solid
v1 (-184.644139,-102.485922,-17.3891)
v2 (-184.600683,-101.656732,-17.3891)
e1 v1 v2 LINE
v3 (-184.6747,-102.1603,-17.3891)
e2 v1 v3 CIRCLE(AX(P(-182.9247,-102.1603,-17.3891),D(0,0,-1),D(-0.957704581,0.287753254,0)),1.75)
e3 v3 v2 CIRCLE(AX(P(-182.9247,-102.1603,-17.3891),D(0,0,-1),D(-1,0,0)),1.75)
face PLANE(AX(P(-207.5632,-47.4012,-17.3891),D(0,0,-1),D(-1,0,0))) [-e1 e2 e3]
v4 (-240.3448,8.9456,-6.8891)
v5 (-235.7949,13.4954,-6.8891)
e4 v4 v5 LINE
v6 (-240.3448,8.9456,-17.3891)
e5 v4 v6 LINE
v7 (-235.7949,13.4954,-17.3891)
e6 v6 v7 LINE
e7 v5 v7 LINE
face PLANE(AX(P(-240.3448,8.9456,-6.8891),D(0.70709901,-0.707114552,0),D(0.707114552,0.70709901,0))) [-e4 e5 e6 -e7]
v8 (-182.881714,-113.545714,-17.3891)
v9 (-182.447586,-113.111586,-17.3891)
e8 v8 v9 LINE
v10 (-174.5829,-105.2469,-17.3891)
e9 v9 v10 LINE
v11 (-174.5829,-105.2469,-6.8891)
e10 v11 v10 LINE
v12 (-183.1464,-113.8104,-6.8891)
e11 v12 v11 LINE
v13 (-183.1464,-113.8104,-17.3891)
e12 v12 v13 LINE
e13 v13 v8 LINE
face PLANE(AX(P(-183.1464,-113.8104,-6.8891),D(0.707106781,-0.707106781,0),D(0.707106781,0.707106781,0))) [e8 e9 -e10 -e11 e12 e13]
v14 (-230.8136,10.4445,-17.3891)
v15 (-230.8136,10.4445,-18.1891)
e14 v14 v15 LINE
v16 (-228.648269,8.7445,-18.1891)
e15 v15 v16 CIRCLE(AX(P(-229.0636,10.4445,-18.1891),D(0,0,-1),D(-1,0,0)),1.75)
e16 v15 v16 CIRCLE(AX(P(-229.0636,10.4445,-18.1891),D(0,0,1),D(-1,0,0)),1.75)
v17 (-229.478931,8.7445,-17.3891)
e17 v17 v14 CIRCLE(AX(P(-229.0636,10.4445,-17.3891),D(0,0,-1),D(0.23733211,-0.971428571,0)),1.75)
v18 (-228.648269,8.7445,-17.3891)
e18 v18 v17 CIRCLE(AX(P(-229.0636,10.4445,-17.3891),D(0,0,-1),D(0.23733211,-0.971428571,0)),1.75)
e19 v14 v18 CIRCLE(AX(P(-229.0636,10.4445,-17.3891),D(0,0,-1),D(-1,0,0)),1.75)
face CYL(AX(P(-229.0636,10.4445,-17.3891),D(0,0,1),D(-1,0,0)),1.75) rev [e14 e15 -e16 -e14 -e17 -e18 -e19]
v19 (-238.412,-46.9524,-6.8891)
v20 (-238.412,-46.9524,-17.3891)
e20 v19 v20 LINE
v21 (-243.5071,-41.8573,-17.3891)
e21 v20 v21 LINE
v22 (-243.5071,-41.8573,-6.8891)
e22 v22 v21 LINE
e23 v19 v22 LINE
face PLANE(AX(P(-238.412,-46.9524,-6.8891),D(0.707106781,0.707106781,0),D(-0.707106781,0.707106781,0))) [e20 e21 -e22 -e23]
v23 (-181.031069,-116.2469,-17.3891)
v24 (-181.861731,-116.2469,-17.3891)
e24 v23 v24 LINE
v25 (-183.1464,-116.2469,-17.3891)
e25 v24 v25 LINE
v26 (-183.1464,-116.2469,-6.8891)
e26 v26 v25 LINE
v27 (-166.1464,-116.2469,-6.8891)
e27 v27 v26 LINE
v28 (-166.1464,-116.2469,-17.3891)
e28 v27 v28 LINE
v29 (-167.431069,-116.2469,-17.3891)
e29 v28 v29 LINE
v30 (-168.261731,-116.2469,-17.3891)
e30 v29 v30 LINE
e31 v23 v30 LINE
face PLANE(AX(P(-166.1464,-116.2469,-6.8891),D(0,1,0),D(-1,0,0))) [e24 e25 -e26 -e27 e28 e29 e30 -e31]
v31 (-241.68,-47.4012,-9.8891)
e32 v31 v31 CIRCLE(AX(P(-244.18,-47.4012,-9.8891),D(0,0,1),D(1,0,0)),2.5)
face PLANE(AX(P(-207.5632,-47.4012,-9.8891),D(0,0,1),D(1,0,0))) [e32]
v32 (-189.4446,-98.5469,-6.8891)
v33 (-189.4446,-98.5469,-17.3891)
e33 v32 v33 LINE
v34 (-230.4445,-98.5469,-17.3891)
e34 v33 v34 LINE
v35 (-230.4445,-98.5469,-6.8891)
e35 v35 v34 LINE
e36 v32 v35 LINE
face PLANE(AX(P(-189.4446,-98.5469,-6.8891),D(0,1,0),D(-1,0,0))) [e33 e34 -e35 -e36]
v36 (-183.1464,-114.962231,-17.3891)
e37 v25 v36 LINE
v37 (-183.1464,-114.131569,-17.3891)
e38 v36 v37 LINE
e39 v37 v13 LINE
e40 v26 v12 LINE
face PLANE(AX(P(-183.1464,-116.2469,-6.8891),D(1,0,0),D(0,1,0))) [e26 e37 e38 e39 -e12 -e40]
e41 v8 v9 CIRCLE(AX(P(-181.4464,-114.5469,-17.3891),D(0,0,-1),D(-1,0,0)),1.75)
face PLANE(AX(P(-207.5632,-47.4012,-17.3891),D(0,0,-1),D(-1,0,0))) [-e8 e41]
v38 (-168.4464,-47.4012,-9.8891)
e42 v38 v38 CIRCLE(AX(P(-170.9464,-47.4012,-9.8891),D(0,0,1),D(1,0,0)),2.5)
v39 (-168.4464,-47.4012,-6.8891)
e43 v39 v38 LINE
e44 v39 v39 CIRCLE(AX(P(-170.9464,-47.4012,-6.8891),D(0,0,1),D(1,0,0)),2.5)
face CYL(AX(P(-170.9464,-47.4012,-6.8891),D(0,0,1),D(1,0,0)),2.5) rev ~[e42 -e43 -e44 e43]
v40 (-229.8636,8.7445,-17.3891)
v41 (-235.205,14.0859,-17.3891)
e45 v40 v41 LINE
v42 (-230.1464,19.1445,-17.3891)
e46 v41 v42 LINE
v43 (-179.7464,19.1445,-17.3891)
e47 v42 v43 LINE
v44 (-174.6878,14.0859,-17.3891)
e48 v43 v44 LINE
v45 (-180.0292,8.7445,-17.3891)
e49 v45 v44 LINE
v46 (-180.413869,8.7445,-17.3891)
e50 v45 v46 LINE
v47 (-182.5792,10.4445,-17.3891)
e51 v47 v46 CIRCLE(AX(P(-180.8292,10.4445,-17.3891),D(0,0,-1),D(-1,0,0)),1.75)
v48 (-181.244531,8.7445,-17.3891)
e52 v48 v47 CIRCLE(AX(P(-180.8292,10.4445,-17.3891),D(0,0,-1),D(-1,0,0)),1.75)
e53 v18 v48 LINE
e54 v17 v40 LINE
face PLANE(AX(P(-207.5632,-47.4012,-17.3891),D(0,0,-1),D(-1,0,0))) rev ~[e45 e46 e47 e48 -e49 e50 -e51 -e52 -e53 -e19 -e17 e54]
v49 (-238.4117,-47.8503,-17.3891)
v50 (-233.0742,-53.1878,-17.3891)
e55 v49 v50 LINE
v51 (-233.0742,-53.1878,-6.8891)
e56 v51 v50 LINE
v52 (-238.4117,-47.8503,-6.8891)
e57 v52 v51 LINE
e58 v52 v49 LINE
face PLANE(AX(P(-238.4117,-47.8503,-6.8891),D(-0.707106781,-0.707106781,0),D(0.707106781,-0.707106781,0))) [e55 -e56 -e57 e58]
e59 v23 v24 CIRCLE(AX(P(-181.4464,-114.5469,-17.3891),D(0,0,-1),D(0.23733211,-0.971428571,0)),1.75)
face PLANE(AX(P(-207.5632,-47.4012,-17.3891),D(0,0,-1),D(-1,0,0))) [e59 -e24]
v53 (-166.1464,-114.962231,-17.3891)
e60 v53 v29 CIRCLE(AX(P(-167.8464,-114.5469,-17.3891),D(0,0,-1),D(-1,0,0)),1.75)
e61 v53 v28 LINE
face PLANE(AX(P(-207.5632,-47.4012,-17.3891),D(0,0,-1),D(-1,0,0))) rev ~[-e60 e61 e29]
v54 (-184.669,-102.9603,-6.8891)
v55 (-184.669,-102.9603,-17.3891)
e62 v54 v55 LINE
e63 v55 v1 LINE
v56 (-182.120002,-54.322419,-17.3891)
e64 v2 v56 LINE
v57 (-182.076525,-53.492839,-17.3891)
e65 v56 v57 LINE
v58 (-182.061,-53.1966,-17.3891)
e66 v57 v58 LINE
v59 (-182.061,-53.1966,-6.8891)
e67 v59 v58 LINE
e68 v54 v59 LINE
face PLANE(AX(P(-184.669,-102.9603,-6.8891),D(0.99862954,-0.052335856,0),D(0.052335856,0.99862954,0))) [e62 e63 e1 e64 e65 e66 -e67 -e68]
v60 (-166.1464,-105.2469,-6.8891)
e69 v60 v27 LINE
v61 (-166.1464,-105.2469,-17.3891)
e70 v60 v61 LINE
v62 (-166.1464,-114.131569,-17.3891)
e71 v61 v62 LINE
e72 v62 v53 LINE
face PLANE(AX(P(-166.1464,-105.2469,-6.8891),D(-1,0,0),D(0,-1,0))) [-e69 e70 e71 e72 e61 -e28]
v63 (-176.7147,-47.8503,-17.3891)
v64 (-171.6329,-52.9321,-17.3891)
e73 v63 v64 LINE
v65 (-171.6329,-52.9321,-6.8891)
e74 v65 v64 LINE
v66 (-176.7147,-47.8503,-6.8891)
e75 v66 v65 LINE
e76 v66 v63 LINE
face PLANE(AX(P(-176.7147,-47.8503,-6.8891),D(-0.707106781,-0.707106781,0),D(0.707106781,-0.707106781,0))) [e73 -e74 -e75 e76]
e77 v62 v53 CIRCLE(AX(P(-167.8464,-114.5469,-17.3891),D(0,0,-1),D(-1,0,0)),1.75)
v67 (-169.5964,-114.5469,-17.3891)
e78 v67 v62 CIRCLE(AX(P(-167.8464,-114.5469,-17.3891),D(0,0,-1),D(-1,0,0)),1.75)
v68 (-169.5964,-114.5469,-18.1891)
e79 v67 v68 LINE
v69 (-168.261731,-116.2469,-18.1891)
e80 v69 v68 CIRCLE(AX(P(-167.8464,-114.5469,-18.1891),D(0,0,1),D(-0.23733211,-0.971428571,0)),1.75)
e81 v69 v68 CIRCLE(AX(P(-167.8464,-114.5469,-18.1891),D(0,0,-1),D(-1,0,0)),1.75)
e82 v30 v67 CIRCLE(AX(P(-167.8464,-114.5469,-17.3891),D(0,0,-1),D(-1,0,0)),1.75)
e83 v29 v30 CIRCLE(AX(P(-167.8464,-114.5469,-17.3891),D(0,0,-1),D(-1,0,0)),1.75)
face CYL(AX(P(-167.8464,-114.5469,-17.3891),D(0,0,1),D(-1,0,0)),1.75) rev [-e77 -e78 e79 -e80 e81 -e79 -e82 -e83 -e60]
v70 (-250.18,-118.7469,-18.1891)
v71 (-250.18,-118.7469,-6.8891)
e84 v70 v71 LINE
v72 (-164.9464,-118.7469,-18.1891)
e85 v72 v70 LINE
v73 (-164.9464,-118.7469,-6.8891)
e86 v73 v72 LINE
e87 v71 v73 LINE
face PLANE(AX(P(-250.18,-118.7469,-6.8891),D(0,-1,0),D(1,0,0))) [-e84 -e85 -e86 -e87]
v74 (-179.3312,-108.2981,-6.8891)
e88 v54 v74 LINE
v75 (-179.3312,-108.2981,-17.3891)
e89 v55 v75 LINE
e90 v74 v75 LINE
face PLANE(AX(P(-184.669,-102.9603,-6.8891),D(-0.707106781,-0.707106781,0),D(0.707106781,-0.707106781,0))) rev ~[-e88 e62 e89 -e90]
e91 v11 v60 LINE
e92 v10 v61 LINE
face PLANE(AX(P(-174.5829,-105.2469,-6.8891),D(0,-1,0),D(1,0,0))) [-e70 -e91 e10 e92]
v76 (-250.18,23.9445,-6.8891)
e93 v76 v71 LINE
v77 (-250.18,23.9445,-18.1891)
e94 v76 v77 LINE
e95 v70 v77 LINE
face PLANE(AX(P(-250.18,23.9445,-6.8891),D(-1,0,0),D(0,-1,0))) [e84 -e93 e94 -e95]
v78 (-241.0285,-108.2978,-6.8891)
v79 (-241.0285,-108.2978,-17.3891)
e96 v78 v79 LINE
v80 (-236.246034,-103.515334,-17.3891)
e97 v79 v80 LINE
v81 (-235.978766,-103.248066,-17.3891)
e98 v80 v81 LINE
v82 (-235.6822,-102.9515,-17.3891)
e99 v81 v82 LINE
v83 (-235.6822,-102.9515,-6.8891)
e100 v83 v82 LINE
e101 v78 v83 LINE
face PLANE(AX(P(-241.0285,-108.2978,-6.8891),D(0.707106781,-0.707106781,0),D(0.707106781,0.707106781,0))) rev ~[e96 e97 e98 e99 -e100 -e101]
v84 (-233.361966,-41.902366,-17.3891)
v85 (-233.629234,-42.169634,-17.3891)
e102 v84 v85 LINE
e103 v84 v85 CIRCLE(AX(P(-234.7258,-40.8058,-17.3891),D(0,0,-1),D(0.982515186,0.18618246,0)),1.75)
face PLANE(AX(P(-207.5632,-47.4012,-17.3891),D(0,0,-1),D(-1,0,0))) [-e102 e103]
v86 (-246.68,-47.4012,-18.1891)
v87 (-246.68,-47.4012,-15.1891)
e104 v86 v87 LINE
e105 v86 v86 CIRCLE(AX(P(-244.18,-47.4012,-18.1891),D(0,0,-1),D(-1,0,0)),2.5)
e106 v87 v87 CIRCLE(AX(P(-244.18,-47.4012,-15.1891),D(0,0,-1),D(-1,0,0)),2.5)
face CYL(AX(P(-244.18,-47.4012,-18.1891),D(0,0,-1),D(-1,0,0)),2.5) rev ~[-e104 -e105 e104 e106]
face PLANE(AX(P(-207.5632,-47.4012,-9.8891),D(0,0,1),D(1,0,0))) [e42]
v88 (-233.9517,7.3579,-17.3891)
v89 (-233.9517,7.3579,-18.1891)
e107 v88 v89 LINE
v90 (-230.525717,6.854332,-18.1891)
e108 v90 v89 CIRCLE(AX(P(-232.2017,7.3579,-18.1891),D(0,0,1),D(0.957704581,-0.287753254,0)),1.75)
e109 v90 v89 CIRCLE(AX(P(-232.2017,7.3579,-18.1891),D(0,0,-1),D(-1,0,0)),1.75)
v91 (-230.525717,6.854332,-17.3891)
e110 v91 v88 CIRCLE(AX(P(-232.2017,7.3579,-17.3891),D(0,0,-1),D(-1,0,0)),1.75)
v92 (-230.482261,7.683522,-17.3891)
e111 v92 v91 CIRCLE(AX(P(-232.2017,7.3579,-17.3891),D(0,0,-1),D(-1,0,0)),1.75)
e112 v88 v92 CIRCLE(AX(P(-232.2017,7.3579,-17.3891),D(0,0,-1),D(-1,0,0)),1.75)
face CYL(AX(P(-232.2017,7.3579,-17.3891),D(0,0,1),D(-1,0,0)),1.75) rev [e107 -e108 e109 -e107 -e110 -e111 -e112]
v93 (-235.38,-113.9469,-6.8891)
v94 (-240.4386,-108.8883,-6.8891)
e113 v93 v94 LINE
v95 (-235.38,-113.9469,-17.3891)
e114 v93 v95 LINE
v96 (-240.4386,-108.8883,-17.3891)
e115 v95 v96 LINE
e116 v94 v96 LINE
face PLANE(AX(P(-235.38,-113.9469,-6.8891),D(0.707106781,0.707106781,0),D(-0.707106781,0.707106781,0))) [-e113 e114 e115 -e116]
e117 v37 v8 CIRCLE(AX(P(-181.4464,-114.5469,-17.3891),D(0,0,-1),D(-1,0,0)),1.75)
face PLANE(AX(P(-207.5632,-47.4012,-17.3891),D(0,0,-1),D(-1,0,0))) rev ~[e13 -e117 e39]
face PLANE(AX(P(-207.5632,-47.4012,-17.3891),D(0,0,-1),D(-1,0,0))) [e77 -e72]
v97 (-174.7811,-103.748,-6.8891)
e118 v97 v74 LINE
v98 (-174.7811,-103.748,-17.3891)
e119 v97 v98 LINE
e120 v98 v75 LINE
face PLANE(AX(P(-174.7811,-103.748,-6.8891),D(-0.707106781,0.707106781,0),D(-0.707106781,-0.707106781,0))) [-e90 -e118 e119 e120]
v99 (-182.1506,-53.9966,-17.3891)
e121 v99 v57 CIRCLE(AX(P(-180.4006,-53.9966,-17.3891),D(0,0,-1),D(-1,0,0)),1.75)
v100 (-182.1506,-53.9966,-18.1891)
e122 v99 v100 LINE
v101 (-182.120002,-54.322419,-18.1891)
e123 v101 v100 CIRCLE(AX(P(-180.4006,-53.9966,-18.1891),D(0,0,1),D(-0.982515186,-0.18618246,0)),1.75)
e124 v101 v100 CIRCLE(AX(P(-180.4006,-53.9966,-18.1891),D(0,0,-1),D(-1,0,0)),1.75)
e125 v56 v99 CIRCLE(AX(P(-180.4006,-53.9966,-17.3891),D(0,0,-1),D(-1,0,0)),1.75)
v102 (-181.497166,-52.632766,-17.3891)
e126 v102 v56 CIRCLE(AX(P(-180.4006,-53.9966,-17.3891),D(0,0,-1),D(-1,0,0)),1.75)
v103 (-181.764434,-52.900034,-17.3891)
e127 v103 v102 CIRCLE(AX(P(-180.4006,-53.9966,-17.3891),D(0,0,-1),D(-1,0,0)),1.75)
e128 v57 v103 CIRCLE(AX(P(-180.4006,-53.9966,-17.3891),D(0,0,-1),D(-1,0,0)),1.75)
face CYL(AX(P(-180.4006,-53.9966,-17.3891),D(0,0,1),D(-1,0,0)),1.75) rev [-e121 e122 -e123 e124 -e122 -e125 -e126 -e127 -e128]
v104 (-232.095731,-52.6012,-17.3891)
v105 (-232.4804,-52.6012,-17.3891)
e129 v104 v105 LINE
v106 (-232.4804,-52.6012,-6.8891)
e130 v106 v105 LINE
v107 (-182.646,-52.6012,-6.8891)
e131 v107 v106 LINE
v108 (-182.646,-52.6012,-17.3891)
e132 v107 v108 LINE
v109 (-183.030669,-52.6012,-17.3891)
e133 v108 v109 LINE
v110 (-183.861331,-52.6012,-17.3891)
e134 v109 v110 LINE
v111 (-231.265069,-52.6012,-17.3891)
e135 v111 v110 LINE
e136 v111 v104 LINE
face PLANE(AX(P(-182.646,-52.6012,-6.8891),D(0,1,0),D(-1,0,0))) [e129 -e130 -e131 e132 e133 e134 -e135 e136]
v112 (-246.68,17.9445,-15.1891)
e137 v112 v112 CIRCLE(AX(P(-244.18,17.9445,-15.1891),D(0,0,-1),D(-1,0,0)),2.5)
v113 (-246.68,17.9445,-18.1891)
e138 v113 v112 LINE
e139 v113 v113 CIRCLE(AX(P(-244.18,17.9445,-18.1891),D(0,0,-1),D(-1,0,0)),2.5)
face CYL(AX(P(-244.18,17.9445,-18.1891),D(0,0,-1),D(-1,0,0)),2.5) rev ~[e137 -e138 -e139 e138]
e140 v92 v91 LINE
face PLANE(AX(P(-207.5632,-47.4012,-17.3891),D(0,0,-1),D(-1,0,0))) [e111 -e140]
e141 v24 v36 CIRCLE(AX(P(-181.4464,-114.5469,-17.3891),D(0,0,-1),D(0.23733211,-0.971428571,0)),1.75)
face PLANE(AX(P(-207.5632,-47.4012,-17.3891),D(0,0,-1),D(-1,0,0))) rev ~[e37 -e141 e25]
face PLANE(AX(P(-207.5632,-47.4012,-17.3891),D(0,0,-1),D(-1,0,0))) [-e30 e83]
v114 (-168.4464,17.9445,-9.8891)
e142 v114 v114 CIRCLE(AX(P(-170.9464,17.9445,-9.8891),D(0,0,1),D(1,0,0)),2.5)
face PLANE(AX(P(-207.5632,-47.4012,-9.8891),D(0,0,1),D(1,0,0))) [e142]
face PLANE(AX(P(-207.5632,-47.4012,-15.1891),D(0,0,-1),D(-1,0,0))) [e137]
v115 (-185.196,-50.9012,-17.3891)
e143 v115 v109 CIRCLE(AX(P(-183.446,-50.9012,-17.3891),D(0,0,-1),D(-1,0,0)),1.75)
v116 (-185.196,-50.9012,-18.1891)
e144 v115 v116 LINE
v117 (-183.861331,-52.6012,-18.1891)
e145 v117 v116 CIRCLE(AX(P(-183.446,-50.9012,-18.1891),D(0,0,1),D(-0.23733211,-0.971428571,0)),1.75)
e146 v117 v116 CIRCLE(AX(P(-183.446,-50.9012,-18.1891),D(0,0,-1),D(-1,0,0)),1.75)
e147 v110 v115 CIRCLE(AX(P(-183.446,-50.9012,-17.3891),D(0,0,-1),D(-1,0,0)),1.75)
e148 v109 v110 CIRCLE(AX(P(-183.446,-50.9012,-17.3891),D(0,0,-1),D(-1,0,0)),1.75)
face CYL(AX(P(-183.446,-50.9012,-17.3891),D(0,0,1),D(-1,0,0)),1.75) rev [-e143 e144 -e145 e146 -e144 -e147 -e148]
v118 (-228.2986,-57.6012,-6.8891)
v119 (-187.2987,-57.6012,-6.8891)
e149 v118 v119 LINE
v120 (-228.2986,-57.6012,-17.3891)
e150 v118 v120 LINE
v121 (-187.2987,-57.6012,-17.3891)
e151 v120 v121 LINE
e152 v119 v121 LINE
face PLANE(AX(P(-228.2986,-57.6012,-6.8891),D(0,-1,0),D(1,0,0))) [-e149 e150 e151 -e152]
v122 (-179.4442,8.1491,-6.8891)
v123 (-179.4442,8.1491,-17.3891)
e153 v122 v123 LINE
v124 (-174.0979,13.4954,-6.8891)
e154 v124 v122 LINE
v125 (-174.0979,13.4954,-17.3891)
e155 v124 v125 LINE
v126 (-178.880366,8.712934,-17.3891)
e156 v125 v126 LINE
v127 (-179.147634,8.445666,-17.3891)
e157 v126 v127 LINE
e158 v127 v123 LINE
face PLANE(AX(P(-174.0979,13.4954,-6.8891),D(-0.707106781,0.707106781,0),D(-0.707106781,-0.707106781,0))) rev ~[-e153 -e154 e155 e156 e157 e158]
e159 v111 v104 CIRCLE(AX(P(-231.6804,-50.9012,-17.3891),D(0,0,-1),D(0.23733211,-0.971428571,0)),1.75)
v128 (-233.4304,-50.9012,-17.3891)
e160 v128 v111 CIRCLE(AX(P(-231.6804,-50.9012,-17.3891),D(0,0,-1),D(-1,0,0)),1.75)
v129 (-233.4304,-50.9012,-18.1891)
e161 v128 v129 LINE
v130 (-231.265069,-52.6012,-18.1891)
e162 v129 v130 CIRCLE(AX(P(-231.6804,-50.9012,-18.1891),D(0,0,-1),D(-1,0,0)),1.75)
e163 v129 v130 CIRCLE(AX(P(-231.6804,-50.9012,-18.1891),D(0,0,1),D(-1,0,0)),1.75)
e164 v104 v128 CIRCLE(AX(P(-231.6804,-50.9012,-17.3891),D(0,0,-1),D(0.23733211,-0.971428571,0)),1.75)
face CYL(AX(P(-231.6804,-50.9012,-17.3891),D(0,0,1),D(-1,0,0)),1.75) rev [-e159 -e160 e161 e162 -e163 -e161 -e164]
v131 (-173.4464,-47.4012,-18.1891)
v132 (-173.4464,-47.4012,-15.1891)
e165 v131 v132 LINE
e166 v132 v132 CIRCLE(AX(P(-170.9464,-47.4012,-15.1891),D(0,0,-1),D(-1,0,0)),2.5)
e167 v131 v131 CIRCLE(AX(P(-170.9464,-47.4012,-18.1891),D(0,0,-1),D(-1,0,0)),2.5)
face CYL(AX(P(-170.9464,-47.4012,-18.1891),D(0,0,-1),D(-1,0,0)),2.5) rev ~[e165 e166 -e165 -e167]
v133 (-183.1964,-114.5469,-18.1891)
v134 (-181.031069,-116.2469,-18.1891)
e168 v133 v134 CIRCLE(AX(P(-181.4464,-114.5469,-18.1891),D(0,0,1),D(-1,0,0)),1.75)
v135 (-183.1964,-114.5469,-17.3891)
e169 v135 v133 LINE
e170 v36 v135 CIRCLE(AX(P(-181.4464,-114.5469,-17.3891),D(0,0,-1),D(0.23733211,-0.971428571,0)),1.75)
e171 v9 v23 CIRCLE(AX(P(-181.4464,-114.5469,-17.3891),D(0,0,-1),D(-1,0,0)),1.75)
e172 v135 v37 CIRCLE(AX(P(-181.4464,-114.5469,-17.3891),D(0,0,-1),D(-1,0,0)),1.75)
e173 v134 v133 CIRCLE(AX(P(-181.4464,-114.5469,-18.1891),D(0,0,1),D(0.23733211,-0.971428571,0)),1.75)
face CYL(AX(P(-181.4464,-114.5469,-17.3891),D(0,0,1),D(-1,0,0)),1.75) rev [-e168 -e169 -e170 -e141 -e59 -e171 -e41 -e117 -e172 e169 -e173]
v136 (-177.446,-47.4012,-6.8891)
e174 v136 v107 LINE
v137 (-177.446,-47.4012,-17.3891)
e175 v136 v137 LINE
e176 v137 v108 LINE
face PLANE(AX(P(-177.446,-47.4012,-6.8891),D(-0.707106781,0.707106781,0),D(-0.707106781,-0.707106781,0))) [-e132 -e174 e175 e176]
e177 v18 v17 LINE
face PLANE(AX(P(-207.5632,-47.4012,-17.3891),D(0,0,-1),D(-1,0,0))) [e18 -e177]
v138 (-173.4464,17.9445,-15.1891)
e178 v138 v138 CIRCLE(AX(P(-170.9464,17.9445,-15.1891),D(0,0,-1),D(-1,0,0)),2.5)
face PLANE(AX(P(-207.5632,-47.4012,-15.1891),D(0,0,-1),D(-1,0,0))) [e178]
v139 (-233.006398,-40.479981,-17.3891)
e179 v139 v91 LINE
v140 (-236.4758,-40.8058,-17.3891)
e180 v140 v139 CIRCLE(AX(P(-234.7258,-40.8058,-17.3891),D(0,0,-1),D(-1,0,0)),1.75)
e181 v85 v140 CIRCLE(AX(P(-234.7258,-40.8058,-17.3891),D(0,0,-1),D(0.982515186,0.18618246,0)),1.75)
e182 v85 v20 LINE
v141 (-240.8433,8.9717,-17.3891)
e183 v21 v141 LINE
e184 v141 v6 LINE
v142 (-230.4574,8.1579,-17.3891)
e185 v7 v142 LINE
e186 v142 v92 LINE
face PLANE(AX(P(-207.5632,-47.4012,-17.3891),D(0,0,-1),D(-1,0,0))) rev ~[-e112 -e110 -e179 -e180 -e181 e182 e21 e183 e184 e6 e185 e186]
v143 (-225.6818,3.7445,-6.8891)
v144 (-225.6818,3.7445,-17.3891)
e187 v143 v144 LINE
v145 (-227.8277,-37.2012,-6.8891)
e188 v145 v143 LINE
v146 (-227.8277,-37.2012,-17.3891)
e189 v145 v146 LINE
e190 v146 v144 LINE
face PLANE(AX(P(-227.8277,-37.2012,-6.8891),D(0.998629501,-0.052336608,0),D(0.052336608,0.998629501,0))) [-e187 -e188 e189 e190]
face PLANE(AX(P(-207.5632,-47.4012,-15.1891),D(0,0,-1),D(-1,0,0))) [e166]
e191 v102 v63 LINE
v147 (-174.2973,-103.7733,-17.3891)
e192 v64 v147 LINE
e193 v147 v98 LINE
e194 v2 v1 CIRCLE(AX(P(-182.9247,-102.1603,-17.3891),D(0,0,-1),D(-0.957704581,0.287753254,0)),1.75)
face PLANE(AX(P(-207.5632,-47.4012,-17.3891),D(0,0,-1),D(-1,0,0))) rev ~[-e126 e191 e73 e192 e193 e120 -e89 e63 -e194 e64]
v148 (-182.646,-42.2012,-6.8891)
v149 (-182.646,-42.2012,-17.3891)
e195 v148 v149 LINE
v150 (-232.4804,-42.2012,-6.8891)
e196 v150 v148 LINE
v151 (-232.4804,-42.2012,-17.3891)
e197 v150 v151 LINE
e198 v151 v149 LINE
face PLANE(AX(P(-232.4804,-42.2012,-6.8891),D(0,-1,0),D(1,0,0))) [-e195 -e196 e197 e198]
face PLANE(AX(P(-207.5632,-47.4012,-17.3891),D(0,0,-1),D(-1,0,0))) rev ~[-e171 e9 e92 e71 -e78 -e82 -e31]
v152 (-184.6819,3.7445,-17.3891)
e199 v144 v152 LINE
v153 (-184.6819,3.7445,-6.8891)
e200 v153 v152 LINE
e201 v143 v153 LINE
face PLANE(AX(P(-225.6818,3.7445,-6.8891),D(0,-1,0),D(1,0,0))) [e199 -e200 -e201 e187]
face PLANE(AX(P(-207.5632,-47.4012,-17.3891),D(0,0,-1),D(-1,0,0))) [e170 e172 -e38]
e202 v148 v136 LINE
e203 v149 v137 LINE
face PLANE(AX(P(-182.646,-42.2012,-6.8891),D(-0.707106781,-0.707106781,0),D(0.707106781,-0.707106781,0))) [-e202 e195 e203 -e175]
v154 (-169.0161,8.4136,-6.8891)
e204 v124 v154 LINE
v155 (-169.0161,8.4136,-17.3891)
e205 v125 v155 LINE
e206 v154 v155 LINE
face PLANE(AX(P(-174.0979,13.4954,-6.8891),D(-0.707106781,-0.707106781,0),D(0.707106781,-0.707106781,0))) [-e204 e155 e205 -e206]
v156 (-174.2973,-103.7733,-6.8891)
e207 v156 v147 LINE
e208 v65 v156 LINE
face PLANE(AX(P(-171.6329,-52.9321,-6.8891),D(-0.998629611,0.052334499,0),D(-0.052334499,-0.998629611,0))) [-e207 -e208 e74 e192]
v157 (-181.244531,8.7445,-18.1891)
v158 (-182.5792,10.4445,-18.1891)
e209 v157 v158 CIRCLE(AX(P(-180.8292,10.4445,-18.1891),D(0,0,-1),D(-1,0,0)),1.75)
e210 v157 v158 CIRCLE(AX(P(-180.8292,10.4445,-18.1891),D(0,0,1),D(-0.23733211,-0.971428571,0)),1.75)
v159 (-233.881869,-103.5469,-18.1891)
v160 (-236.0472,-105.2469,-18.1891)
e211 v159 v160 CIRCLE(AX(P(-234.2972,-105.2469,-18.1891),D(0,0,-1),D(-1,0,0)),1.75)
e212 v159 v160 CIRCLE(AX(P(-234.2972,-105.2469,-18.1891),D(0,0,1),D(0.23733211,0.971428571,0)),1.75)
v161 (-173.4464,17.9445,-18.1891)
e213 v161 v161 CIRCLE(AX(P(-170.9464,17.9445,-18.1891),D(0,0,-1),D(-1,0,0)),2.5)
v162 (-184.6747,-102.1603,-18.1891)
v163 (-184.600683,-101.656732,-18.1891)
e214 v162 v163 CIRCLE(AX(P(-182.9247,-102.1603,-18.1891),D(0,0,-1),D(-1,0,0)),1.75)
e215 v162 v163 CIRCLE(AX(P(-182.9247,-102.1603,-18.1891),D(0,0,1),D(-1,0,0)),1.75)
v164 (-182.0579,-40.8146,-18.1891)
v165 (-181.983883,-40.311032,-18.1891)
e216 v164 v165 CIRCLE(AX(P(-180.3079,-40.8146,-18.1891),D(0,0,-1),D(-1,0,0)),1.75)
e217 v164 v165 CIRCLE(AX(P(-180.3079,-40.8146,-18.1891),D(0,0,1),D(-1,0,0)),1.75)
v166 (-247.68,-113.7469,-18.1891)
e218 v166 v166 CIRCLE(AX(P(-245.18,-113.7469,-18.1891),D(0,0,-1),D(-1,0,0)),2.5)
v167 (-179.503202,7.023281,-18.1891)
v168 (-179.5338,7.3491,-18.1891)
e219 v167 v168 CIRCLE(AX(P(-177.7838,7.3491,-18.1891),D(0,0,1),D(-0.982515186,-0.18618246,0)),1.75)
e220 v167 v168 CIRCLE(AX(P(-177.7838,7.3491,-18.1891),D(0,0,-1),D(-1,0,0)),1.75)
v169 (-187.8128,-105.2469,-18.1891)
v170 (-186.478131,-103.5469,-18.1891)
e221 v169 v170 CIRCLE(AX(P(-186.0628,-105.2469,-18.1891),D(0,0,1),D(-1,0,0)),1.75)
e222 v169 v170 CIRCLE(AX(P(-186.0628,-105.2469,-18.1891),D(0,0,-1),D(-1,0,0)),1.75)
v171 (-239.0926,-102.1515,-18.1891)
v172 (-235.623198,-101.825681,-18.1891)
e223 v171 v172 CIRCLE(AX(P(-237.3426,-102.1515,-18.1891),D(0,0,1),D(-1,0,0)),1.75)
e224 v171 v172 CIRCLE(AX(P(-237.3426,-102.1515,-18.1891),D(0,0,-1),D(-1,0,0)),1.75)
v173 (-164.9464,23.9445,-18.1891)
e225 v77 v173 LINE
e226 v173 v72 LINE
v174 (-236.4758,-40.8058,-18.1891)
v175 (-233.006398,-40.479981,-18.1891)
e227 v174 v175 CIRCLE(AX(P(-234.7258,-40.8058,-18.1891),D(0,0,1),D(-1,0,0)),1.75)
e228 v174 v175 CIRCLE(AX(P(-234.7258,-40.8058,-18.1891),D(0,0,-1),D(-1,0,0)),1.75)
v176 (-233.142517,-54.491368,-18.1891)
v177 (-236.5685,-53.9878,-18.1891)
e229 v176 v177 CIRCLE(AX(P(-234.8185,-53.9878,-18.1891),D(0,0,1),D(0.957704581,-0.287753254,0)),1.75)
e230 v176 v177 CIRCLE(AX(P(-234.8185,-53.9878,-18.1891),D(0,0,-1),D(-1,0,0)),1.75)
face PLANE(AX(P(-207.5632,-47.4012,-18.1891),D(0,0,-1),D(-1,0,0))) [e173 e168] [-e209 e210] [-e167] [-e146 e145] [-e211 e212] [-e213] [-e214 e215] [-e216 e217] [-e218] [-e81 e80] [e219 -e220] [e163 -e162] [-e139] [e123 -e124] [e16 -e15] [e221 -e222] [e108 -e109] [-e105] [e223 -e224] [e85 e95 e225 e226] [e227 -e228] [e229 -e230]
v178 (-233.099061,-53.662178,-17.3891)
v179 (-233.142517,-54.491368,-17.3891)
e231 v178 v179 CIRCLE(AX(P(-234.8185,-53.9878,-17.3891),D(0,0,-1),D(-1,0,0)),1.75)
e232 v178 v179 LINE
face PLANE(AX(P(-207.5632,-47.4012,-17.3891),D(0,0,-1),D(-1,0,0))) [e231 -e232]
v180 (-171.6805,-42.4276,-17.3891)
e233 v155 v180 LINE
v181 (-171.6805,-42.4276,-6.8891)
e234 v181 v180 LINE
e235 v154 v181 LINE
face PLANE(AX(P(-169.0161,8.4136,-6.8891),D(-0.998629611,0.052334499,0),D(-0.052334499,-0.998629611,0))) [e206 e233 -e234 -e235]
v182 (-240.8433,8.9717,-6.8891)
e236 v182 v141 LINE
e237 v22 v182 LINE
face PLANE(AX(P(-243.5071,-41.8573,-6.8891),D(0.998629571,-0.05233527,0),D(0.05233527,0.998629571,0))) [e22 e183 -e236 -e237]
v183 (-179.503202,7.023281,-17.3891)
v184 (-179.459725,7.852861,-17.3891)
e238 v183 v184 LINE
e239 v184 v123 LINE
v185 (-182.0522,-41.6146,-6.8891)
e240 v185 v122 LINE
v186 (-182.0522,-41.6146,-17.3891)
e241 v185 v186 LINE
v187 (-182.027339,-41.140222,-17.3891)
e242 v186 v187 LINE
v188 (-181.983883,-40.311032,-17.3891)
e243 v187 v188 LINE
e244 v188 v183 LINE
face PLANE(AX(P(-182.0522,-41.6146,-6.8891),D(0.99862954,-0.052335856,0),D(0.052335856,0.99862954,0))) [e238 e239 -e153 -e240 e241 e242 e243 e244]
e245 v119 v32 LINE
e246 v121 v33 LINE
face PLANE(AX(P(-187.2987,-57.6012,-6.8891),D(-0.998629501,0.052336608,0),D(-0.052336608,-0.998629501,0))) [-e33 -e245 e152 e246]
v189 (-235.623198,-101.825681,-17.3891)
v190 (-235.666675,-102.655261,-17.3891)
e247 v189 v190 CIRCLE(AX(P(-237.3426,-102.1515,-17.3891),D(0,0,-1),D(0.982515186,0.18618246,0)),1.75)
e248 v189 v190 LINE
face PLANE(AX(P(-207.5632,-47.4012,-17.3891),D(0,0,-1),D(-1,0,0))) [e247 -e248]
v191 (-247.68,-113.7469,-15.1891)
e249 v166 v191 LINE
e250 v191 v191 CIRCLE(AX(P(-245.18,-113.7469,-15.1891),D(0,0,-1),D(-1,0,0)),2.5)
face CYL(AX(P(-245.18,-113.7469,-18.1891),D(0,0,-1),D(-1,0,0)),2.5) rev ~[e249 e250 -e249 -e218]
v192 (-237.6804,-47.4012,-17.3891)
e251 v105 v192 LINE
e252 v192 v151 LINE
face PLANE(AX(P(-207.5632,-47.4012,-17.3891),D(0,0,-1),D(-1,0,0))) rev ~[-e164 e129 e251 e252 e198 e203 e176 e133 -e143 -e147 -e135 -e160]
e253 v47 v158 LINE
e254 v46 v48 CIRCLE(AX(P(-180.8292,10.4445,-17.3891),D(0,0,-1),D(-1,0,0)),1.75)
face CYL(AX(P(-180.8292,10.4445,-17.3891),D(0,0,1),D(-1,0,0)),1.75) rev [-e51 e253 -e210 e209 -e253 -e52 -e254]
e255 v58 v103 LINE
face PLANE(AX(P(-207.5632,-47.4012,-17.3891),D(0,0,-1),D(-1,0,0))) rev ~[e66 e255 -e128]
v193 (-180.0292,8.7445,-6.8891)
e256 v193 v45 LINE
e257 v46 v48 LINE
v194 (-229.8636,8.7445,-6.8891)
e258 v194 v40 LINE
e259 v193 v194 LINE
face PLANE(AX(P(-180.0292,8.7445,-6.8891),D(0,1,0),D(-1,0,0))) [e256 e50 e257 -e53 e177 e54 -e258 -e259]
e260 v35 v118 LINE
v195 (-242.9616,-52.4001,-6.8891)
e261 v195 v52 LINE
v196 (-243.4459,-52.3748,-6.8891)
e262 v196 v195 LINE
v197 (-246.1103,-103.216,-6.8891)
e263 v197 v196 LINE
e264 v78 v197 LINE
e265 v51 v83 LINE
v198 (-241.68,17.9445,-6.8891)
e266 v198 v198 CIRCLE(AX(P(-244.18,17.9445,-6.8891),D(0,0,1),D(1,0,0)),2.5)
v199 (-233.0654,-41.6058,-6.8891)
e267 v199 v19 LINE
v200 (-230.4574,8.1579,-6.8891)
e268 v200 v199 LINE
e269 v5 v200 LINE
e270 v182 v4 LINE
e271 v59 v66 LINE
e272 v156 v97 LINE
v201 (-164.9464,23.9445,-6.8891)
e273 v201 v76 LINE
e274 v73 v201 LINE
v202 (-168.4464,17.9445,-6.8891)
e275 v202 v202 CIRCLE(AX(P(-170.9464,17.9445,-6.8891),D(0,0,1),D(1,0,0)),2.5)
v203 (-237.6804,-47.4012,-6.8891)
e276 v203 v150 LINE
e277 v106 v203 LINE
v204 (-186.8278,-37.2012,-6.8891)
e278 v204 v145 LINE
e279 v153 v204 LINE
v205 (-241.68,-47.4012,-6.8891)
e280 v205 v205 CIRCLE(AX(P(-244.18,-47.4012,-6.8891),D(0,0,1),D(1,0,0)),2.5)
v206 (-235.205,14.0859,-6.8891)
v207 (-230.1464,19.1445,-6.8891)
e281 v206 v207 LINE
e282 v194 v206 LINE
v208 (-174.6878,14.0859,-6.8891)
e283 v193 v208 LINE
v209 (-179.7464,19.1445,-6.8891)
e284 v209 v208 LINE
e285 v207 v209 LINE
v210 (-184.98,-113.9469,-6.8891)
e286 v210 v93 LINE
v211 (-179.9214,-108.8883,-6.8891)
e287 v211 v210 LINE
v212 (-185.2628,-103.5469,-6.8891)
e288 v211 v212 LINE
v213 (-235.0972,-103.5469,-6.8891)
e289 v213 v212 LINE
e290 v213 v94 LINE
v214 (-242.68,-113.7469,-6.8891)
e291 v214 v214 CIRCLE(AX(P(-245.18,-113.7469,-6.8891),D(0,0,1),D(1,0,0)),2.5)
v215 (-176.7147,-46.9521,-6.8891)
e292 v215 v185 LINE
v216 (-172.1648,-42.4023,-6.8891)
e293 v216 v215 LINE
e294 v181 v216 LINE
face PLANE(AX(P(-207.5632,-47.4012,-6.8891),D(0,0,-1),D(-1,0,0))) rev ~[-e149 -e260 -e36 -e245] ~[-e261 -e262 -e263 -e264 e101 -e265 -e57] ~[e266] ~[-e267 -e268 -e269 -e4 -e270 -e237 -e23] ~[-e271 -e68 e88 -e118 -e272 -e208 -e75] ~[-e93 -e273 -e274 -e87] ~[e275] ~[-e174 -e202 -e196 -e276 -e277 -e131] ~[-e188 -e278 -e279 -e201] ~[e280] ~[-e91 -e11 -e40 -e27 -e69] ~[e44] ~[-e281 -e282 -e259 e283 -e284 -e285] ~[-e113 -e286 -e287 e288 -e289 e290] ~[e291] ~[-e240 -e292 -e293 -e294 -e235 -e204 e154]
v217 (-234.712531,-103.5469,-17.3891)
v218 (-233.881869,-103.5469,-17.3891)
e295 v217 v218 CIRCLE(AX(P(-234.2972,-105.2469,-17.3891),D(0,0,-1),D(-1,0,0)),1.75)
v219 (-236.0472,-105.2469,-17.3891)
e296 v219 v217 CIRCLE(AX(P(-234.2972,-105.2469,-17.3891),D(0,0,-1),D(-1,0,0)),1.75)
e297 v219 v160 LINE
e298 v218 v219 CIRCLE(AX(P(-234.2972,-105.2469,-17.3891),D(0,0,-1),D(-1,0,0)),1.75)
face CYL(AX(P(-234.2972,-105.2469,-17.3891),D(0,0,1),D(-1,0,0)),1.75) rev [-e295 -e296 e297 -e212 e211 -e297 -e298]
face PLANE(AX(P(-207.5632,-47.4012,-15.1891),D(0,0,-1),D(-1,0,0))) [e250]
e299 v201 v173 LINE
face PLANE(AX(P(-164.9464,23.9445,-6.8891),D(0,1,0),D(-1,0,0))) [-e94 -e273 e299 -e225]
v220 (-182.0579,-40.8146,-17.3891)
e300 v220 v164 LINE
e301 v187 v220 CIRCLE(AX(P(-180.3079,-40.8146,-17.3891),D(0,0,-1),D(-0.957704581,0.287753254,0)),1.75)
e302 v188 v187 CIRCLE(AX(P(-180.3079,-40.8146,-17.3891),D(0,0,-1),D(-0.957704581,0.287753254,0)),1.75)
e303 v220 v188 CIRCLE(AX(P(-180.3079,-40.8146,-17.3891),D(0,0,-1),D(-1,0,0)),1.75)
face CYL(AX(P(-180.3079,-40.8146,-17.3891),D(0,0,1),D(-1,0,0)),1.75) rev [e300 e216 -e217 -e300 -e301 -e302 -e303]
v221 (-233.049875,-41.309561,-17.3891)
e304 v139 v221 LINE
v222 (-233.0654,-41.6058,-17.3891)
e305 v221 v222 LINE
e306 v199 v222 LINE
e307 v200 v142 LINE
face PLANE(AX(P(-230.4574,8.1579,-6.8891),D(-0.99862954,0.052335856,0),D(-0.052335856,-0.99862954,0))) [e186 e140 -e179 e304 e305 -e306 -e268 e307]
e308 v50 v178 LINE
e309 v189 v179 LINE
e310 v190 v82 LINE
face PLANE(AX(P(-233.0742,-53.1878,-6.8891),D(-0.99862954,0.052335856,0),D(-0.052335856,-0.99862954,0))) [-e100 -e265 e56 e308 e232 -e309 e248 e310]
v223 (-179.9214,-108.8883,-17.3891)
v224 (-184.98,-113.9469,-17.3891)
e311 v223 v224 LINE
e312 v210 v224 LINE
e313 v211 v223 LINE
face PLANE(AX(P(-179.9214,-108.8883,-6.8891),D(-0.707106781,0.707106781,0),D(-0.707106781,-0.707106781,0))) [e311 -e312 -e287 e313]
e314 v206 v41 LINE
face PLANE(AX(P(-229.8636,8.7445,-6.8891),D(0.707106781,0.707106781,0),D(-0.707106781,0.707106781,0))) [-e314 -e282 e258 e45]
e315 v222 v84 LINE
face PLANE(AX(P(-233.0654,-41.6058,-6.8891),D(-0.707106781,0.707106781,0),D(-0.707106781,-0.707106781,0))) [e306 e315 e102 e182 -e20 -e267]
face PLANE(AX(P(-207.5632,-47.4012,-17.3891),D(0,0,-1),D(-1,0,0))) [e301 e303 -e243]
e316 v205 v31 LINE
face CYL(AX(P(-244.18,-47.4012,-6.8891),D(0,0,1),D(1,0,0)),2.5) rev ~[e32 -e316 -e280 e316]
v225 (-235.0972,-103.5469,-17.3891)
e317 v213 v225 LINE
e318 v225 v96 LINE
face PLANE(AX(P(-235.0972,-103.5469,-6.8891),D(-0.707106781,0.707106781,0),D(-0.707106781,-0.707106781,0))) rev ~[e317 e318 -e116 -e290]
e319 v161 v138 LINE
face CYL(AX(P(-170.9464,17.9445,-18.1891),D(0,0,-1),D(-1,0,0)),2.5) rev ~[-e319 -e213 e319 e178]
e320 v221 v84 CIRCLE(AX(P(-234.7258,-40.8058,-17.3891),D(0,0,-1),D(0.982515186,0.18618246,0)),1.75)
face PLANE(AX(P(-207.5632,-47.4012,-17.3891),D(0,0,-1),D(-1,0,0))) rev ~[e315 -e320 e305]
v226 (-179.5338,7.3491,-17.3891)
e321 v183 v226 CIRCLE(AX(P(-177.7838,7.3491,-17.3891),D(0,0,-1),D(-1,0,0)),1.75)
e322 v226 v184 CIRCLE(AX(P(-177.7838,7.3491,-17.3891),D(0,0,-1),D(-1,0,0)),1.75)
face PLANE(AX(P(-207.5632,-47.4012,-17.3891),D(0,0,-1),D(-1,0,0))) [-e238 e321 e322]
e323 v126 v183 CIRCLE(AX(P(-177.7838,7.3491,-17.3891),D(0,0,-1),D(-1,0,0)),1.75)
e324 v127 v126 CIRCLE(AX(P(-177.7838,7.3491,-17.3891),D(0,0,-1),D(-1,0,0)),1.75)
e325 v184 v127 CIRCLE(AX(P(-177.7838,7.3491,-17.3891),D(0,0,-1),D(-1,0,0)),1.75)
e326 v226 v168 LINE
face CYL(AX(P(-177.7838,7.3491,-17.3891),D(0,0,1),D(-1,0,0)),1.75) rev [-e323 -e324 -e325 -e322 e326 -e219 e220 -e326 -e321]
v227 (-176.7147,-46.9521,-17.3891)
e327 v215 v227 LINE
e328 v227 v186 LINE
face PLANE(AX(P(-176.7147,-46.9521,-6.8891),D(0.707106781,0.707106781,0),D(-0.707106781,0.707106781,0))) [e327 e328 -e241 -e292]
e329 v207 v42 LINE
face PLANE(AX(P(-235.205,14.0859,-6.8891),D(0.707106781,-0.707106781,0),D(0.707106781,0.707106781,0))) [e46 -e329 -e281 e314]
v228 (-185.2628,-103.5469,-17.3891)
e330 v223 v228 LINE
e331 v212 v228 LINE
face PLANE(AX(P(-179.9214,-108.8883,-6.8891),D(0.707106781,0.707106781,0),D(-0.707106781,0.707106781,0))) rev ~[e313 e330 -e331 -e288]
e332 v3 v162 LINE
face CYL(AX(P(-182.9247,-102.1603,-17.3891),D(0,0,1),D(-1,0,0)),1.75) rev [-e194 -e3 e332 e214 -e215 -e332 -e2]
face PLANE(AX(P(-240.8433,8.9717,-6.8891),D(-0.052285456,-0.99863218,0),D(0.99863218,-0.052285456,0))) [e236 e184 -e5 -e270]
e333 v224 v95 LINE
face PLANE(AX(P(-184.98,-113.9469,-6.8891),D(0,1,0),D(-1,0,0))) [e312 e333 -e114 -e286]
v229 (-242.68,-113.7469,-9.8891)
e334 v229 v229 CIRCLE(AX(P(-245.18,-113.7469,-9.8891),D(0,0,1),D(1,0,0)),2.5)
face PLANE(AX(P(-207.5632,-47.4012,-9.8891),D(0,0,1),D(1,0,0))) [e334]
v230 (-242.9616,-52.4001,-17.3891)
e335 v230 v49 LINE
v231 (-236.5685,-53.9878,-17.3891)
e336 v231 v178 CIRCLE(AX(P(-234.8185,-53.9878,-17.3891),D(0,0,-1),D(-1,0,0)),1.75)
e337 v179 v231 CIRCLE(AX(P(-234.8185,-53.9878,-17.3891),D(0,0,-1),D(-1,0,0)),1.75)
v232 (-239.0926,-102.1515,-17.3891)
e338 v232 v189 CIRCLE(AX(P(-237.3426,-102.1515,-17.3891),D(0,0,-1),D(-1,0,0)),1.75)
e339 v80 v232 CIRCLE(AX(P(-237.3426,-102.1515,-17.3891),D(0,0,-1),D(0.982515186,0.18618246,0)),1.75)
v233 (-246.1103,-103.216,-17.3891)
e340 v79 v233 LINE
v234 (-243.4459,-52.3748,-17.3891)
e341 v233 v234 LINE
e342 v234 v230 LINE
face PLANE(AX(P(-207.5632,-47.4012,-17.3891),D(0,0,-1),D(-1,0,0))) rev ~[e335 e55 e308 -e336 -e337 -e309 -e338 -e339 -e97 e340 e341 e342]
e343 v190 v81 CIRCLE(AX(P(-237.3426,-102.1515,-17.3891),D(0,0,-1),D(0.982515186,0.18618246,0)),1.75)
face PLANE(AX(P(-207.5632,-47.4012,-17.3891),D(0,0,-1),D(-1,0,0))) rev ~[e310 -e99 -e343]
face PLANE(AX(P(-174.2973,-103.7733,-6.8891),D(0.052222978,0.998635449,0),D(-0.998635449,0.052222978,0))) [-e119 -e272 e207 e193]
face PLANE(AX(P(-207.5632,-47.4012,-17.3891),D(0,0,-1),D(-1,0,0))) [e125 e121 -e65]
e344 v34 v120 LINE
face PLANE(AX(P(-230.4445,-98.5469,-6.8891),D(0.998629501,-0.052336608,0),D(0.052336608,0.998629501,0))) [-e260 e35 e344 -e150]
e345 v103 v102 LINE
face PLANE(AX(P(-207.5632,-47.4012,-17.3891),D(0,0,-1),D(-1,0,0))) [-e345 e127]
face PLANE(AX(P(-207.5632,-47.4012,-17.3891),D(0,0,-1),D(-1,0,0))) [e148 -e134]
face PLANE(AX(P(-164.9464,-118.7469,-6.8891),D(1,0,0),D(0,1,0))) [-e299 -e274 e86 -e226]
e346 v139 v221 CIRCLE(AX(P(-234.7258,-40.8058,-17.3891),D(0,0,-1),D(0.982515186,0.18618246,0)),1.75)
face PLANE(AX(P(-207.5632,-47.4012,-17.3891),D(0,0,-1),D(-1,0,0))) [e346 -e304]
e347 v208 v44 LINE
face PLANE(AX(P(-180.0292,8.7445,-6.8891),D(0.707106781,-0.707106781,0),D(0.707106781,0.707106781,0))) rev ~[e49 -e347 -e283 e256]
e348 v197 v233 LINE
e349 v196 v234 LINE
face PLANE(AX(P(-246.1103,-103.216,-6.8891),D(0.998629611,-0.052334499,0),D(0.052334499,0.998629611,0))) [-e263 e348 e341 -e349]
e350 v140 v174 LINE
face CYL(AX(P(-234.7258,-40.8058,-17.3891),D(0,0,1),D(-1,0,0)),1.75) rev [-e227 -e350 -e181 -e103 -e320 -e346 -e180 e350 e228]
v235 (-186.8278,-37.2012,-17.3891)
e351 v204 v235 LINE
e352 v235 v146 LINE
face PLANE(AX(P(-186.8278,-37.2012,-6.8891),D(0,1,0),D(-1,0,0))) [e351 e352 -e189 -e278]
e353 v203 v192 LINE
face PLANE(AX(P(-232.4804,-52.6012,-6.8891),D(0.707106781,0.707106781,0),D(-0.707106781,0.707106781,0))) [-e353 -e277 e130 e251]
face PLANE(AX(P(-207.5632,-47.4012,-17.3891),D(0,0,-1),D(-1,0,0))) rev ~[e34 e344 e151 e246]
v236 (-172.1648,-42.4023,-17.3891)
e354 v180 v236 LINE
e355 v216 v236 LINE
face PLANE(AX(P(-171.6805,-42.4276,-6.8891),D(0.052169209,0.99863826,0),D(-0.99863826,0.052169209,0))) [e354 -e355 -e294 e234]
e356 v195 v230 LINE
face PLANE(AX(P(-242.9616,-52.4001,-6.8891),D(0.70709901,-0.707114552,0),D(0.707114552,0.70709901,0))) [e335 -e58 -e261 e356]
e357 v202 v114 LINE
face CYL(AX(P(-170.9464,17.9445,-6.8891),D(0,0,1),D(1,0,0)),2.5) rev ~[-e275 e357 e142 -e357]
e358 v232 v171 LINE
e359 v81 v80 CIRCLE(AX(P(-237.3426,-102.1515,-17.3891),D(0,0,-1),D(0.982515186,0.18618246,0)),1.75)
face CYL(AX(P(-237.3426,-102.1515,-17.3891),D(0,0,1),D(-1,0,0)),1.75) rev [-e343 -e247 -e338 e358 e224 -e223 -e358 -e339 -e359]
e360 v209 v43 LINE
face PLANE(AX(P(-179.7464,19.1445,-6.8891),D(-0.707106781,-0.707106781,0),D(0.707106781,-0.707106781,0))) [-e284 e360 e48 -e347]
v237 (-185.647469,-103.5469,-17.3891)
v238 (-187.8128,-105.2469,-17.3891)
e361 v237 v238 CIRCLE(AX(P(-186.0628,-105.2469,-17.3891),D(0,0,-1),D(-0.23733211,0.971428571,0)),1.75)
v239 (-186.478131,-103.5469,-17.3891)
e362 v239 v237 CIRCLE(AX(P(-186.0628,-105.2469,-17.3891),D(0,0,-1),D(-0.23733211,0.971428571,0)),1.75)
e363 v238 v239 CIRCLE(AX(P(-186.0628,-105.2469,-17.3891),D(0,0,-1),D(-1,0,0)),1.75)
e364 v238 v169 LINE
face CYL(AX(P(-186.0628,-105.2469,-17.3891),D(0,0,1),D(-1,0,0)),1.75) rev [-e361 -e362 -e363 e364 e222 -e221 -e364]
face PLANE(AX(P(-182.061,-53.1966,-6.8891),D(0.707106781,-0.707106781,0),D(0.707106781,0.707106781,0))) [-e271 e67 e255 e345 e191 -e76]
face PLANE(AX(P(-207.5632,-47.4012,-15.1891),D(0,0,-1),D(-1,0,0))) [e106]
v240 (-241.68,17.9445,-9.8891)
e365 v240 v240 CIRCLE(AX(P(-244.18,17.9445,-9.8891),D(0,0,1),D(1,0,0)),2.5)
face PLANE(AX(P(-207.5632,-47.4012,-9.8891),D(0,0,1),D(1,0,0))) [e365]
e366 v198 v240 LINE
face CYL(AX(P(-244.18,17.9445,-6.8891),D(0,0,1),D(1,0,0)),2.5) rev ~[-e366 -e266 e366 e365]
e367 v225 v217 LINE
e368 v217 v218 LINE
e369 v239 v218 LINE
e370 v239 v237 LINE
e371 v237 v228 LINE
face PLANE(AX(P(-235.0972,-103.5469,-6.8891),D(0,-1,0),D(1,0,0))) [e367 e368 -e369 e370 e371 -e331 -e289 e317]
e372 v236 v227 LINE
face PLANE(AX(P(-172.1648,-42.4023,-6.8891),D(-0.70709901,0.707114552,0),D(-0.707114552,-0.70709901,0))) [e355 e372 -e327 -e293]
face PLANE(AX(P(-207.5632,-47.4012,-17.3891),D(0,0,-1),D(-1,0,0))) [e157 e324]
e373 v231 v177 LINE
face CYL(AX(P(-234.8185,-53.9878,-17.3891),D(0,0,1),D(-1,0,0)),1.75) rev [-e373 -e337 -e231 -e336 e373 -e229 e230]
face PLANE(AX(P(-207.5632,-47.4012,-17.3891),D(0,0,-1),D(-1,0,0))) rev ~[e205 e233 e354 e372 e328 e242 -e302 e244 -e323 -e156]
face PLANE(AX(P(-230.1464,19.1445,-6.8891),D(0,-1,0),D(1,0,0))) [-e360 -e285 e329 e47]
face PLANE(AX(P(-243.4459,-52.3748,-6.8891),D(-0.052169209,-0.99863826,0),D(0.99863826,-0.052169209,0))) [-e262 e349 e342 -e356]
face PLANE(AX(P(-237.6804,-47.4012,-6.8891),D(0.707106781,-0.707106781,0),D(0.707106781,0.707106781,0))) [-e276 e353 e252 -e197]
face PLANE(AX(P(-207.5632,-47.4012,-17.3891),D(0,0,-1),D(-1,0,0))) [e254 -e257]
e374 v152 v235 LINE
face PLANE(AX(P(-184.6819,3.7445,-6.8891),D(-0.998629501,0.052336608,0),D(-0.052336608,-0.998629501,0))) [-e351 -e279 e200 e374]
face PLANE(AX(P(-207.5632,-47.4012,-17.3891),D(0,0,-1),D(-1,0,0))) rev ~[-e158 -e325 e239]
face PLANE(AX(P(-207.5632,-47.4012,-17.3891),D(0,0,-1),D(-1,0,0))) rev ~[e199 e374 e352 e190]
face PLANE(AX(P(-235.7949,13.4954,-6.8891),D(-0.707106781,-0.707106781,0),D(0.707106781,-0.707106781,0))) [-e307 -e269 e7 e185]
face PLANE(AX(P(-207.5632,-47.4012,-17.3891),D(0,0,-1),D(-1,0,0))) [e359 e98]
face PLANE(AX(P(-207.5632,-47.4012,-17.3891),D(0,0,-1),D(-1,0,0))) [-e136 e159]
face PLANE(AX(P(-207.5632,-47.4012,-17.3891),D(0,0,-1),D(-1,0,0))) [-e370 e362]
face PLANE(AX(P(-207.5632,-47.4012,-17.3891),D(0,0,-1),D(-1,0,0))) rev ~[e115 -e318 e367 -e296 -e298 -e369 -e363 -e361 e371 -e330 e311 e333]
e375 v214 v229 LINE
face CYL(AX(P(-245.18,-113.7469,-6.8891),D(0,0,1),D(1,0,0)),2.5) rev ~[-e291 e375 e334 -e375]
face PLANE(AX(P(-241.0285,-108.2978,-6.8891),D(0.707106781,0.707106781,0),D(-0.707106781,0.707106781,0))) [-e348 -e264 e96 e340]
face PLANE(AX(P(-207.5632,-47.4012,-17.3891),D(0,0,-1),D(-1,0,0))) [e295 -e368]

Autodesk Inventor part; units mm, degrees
ref_plane "YZ Plane" through (0, 0, 0) normal (1, 0, 0) x (0, 1, 0)
ref_plane "XZ Plane" through (0, 0, 0) normal (0, 1, 0) x (-1, 0, 0)
ref_plane "XY Plane" through (0, 0, 0) normal (0, 0, 1) x (1, 0, 0)
ref_plane "Arbeitsebene1" through (-207.5632, -47.4012, -6.8891) normal (0, 0, -1) x (-1, 0, 0)
sketch "Skizze1" plane through (-207.5632, -47.4012, -6.8891) normal (0, 0, -1) x (-1, 0, 0)
  line L0 (-22.8942, -55.5591) -> (-25.5022, -5.7954) projected
  line L1 (-25.5022, -5.7954) -> (-30.8485, -0.4491) projected
  line L2 (-30.8485, -0.4491) -> (-35.9303, -5.5309) projected
  line L3 (-35.9303, -5.5309) -> (-33.2659, -56.3721) projected
  line L4 (-33.2659, -56.3721) -> (-32.7821, -56.3468) projected
  line L5 (-32.7821, -56.3468) -> (-28.232, -60.8969) projected
  line L6 (-22.8942, -55.5591) -> (-28.232, -60.8969) projected
  line L7 (-27.6418, -61.4871) -> (-22.5832, -66.5457) projected
  line L8 (-22.5832, -66.5457) -> (27.8168, -66.5457) projected
  line L9 (27.8168, -66.5457) -> (32.8754, -61.4871) projected
  line L10 (27.534, -56.1457) -> (32.8754, -61.4871) projected
  line L11 (27.534, -56.1457) -> (-22.3004, -56.1457) projected
  line L12 (-27.6418, -61.4871) -> (-22.3004, -56.1457) projected
  line L13 (-33.4653, 60.8966) -> (-28.119, 55.5503) projected
  line L14 (-33.4653, 60.8966) -> (-38.5471, 55.8148) projected
  line L15 (-38.5471, 55.8148) -> (-35.8827, 4.9736) projected
  line L16 (-35.8827, 4.9736) -> (-35.3984, 4.9989) projected
  line L17 (-35.3984, 4.9989) -> (-30.8485, 0.4491) projected
  line L18 (-30.8485, 0.4491) -> (-25.511, 5.7866) projected
  line L19 (-25.511, 5.7866) -> (-28.119, 55.5503) projected
  circle A0 centre (-36.6168, 0) radius 2.5 projected
  circle A1 centre (-36.6168, 65.3457) radius 2.5 projected
  circle A2 centre (36.6168, 65.3457) radius 2.5 projected
  circle A3 centre (36.6168, 0) radius 2.5 projected
  circle A4 centre (37.6168, -66.3457) radius 2.5 projected
  line L20 (-32.9803, -57.8457) -> (-41.4168, -57.8457) projected
  line L21 (-41.4168, -57.8457) -> (-41.4168, -68.8457) projected
  line L22 (-41.4168, -68.8457) -> (-24.4168, -68.8457) projected
  line L23 (-24.4168, -68.8457) -> (-24.4168, -66.4092) projected
  line L24 (-24.4168, -66.4092) -> (-32.9803, -57.8457) projected
  line L25 (42.6168, 71.3457) -> (42.6168, -71.3457) projected
  line L26 (42.6168, -71.3457) -> (-42.6168, -71.3457) projected
  line L27 (-42.6168, -71.3457) -> (-42.6168, 71.3457) projected
  line L28 (-42.6168, 71.3457) -> (42.6168, 71.3457) projected
  line L29 (22.8813, -51.1457) -> (20.7354, -10.2) projected
  line L30 (20.7354, -10.2) -> (-20.2645, -10.2) projected
  line L31 (-20.2645, -10.2) -> (-18.1186, -51.1457) projected
  line L32 (-18.1186, -51.1457) -> (22.8813, -51.1457) projected
  line L33 (18.1186, 51.1457) -> (-22.8813, 51.1457) projected
  line L34 (-22.8813, 51.1457) -> (-20.7354, 10.2) projected
  line L35 (-20.7354, 10.2) -> (20.2645, 10.2) projected
  line L36 (20.2645, 10.2) -> (18.1186, 51.1457) projected
  line L37 (22.3004, 56.1457) -> (27.6418, 61.4871) projected
  line L38 (27.6418, 61.4871) -> (22.5832, 66.5457) projected
  line L39 (22.5832, 66.5457) -> (-27.8168, 66.5457) projected
  line L40 (-27.8168, 66.5457) -> (-32.8754, 61.4871) projected
  line L41 (-27.534, 56.1457) -> (-32.8754, 61.4871) projected
  line L42 (-27.534, 56.1457) -> (22.3004, 56.1457) projected
  line L43 (33.4653, -60.8966) -> (28.119, -55.5503) projected
  line L44 (33.4653, -60.8966) -> (38.5471, -55.8148) projected
  line L45 (38.5471, -55.8148) -> (35.8827, -4.9736) projected
  line L46 (35.8827, -4.9736) -> (35.3984, -4.9989) projected
  line L47 (35.3984, -4.9989) -> (30.8485, -0.4491) projected
  line L48 (30.8485, -0.4491) -> (25.511, -5.7866) projected
  line L49 (25.511, -5.7866) -> (28.119, -55.5503) projected
  line L50 (30.8488, 0.4488) -> (35.9439, 5.5439) projected
  line L51 (35.9439, 5.5439) -> (33.2801, 56.3729) projected
  line L52 (33.2801, 56.3729) -> (32.7816, 56.3468) projected
  line L53 (32.7816, 56.3468) -> (28.2317, 60.8966) projected
  line L54 (28.2317, 60.8966) -> (22.8942, 55.5591) projected
  line L55 (22.8942, 55.5591) -> (25.5022, 5.7954) projected
  line L56 (25.5022, 5.7954) -> (30.8488, 0.4488) projected
  line L57 (24.9172, -5.2) -> (30.1172, 0) projected
  line L58 (30.1172, 0) -> (24.9172, 5.2) projected
  line L59 (24.9172, 5.2) -> (-24.9172, 5.2) projected
  line L60 (-24.9172, 5.2) -> (-30.1172, 0) projected
  line L61 (-30.1172, 0) -> (-24.9172, -5.2) projected
  line L62 (-24.9172, -5.2) -> (24.9172, -5.2) projected
  point P0 (-207.5632, 47.4012)
extrude "Extrusion1" add sketch "Skizze1" along normal blind 10.5 contours A0 | A1 | A2 | A3 | A4 | L25 L26 L27 L28
sketch "Skizze2" plane through (-207.5632, -47.4012, -17.3891) normal (0, 0, -1) x (-1, 0, 0)
  line L0 (42.6168, 71.3457) -> (-42.6168, 71.3457) projected
  line L1 (-42.6168, 71.3457) -> (-42.6168, -71.3457) projected
  line L2 (42.6168, -71.3457) -> (42.6168, 71.3457) projected
  line L3 (-42.6168, -71.3457) -> (42.6168, -71.3457) projected
  circle A0 centre (-21.5004, -57.8457) radius 1.75
  circle A1 centre (26.734, -57.8457) radius 1.75
  circle A2 centre (-39.7168, -67.1457) radius 1.75
  circle A3 centre (-26.1168, -67.1457) radius 1.75
  circle A4 centre (-24.6385, -54.7591) radius 1.75
  circle A5 centre (29.7794, -54.7503) radius 1.75
  circle A6 centre (27.2553, -6.5866) radius 1.75
  circle A7 centre (-27.1626, -6.5954) radius 1.75
  circle A8 centre (-24.1172, -3.5) radius 1.75
  circle A9 centre (24.1172, -3.5) radius 1.75
  circle A10 centre (-27.2553, 6.5866) radius 1.75
  circle A11 centre (27.1626, 6.5954) radius 1.75
  circle A12 centre (-29.7794, 54.7503) radius 1.75
  circle A13 centre (24.6385, 54.7591) radius 1.75
  circle A14 centre (21.5004, 57.8457) radius 1.75
  circle A15 centre (-26.734, 57.8457) radius 1.75
  line L4 (25.5022, 5.7954) -> (22.8942, 55.5591) projected
  line L5 (22.3004, 56.1457) -> (-27.534, 56.1457) projected
  line L6 (-25.511, 5.7866) -> (-28.119, 55.5503) projected
  line L7 (24.9172, -5.2) -> (-24.9172, -5.2) projected
  line L8 (-22.8942, -55.5591) -> (-25.5022, -5.7954) projected
  line L9 (28.119, -55.5503) -> (25.511, -5.7866) projected
  line L10 (-22.3004, -56.1457) -> (27.534, -56.1457) projected
  line L11 (-24.4168, -68.8457) -> (-41.4168, -68.8457) projected
  line L12 (-24.4168, -66.4092) -> (-24.4168, -68.8457) projected
  line L13 (-41.4168, -68.8457) -> (-41.4168, -57.8457) projected
  point P0 (-207.5632, 47.4012)
  dimension "d2" = 3.5
  dimension "d3" = 3.5
  dimension "d4" = 3.5
  dimension "d5" = 3.5
  dimension "d6" = 3.5
  dimension "d7" = 3.5
  dimension "d8" = 3.5
  dimension "d9" = 3.5
  dimension "d10" = 3.5
  dimension "d11" = 3.5
  dimension "d12" = 3.5
  dimension "d13" = 3.5
  dimension "d14" = 3.5
  dimension "d15" = 3.5
  dimension "d16" = 3.5
  dimension "d17" = 3.5
  dimension "d18" = 1.7
  dimension "d19" = 1.7
  dimension "d20" = 1.7
  dimension "d21" = 1.7
  dimension "d22" = 1.7
  dimension "d23" = 1.7
  dimension "d24" = 1.7
  dimension "d25" = 1.7
  dimension "d26" = 1.7
  dimension "d27" = 1.7
  dimension "d28" = 1.7
  dimension "d29" = 1.7
  dimension "d30" = 1.7
  dimension "d31" = 1.7
  dimension "d32" = 1.7
  dimension "d33" = 1.7
  dimension "d34" = 1.7
  dimension "d35" = 1.7
  dimension "d36" = 0.8
  dimension "d37" = 0.8
  dimension "d38" = 0.8
  dimension "d39" = 0.8
  dimension "d40" = 0.8
  dimension "d41" = 0.8
  dimension "d42" = 0.8
  dimension "d43" = 0.8
  dimension "d44" = 0.8
  dimension "d45" = 0.8
  dimension "d46" = 0.8
  dimension "d47" = 0.8
  dimension "d48" = 0.8
  dimension "d49" = 0.8
extrude "Extrusion2" add sketch "Skizze2" along normal blind 0.8 contours L2 L3 L1 L0 | A2 L11 L13 | A3 L12 L11 picked at (-41.1035, -68.5324) picked at (-24.7301, -68.5324)
sketch "Skizze3" plane through (-207.5632, -47.4012, -6.8891) normal (0, 0, 1) x (1, 0, 0)
  circle A0 centre (-37.6168, -66.3457) radius 2.5 projected
  circle A1 centre (36.6168, 0) radius 2.5 projected
  circle A2 centre (-36.6168, 0) radius 2.5 projected
  circle A3 centre (-36.6168, 65.3457) radius 2.5 projected
  circle A4 centre (36.6168, 65.3457) radius 2.5 projected
  point P0 (207.5632, 47.4012)
extrude "Extrusion3" cut sketch "Skizze3" against normal blind 3
sketch "Skizze4" plane through (-207.5632, -47.4012, -18.1891) normal (0, 0, -1) x (-1, 0, 0)
  circle A0 centre (-36.6168, 0) radius 2.5 projected
  circle A1 centre (37.6168, -66.3457) radius 2.5 projected
  circle A2 centre (36.6168, 0) radius 2.5 projected
  circle A3 centre (36.6168, 65.3457) radius 2.5 projected
  circle A4 centre (-36.6168, 65.3457) radius 2.5 projected
  point P0 (-207.5632, 47.4012)
extrude "Extrusion4" cut sketch "Skizze4" against normal blind 3
equation "\"d3\" = d2"
equation "\"d4\" = d2"
equation "\"d5\" = d2"
equation "\"d6\" = d2"
equation "\"d7\" = d2"
equation "\"d8\" = d2"
equation "\"d9\" = d2"
equation "\"d10\" = d2"
equation "\"d11\" = d2"
equation "\"d12\" = d2"
equation "\"d13\" = d2"
equation "\"d14\" = d2"
equation "\"d15\" = d2"
equation "\"d16\" = d2"
equation "\"d17\" = d2"
equation "\"d19\" = d18"
equation "\"d20\" = d18"
equation "\"d21\" = d18"
equation "\"d22\" = d18"
equation "\"d23\" = d18"
equation "\"d24\" = d18"
equation "\"d25\" = d18"
equation "\"d26\" = d18"
equation "\"d27\" = d18"
equation "\"d28\" = d18"
equation "\"d29\" = d18"
equation "\"d30\" = d18"
equation "\"d31\" = d18"
equation "\"d32\" = d18"
equation "\"d33\" = d18"
equation "\"d34\" = d18"
equation "\"d35\" = d18"
equation "\"d37\" = d36"
equation "\"d38\" = d36"
equation "\"d39\" = d36"
equation "\"d40\" = d36"
equation "\"d41\" = d36"
equation "\"d42\" = d36"
equation "\"d43\" = d36"
equation "\"d44\" = d36"
equation "\"d45\" = d36"
equation "\"d46\" = d36"
equation "\"d47\" = d36"
equation "\"d48\" = d36"
equation "\"d49\" = d36"
properties part number "Segment_V2"
